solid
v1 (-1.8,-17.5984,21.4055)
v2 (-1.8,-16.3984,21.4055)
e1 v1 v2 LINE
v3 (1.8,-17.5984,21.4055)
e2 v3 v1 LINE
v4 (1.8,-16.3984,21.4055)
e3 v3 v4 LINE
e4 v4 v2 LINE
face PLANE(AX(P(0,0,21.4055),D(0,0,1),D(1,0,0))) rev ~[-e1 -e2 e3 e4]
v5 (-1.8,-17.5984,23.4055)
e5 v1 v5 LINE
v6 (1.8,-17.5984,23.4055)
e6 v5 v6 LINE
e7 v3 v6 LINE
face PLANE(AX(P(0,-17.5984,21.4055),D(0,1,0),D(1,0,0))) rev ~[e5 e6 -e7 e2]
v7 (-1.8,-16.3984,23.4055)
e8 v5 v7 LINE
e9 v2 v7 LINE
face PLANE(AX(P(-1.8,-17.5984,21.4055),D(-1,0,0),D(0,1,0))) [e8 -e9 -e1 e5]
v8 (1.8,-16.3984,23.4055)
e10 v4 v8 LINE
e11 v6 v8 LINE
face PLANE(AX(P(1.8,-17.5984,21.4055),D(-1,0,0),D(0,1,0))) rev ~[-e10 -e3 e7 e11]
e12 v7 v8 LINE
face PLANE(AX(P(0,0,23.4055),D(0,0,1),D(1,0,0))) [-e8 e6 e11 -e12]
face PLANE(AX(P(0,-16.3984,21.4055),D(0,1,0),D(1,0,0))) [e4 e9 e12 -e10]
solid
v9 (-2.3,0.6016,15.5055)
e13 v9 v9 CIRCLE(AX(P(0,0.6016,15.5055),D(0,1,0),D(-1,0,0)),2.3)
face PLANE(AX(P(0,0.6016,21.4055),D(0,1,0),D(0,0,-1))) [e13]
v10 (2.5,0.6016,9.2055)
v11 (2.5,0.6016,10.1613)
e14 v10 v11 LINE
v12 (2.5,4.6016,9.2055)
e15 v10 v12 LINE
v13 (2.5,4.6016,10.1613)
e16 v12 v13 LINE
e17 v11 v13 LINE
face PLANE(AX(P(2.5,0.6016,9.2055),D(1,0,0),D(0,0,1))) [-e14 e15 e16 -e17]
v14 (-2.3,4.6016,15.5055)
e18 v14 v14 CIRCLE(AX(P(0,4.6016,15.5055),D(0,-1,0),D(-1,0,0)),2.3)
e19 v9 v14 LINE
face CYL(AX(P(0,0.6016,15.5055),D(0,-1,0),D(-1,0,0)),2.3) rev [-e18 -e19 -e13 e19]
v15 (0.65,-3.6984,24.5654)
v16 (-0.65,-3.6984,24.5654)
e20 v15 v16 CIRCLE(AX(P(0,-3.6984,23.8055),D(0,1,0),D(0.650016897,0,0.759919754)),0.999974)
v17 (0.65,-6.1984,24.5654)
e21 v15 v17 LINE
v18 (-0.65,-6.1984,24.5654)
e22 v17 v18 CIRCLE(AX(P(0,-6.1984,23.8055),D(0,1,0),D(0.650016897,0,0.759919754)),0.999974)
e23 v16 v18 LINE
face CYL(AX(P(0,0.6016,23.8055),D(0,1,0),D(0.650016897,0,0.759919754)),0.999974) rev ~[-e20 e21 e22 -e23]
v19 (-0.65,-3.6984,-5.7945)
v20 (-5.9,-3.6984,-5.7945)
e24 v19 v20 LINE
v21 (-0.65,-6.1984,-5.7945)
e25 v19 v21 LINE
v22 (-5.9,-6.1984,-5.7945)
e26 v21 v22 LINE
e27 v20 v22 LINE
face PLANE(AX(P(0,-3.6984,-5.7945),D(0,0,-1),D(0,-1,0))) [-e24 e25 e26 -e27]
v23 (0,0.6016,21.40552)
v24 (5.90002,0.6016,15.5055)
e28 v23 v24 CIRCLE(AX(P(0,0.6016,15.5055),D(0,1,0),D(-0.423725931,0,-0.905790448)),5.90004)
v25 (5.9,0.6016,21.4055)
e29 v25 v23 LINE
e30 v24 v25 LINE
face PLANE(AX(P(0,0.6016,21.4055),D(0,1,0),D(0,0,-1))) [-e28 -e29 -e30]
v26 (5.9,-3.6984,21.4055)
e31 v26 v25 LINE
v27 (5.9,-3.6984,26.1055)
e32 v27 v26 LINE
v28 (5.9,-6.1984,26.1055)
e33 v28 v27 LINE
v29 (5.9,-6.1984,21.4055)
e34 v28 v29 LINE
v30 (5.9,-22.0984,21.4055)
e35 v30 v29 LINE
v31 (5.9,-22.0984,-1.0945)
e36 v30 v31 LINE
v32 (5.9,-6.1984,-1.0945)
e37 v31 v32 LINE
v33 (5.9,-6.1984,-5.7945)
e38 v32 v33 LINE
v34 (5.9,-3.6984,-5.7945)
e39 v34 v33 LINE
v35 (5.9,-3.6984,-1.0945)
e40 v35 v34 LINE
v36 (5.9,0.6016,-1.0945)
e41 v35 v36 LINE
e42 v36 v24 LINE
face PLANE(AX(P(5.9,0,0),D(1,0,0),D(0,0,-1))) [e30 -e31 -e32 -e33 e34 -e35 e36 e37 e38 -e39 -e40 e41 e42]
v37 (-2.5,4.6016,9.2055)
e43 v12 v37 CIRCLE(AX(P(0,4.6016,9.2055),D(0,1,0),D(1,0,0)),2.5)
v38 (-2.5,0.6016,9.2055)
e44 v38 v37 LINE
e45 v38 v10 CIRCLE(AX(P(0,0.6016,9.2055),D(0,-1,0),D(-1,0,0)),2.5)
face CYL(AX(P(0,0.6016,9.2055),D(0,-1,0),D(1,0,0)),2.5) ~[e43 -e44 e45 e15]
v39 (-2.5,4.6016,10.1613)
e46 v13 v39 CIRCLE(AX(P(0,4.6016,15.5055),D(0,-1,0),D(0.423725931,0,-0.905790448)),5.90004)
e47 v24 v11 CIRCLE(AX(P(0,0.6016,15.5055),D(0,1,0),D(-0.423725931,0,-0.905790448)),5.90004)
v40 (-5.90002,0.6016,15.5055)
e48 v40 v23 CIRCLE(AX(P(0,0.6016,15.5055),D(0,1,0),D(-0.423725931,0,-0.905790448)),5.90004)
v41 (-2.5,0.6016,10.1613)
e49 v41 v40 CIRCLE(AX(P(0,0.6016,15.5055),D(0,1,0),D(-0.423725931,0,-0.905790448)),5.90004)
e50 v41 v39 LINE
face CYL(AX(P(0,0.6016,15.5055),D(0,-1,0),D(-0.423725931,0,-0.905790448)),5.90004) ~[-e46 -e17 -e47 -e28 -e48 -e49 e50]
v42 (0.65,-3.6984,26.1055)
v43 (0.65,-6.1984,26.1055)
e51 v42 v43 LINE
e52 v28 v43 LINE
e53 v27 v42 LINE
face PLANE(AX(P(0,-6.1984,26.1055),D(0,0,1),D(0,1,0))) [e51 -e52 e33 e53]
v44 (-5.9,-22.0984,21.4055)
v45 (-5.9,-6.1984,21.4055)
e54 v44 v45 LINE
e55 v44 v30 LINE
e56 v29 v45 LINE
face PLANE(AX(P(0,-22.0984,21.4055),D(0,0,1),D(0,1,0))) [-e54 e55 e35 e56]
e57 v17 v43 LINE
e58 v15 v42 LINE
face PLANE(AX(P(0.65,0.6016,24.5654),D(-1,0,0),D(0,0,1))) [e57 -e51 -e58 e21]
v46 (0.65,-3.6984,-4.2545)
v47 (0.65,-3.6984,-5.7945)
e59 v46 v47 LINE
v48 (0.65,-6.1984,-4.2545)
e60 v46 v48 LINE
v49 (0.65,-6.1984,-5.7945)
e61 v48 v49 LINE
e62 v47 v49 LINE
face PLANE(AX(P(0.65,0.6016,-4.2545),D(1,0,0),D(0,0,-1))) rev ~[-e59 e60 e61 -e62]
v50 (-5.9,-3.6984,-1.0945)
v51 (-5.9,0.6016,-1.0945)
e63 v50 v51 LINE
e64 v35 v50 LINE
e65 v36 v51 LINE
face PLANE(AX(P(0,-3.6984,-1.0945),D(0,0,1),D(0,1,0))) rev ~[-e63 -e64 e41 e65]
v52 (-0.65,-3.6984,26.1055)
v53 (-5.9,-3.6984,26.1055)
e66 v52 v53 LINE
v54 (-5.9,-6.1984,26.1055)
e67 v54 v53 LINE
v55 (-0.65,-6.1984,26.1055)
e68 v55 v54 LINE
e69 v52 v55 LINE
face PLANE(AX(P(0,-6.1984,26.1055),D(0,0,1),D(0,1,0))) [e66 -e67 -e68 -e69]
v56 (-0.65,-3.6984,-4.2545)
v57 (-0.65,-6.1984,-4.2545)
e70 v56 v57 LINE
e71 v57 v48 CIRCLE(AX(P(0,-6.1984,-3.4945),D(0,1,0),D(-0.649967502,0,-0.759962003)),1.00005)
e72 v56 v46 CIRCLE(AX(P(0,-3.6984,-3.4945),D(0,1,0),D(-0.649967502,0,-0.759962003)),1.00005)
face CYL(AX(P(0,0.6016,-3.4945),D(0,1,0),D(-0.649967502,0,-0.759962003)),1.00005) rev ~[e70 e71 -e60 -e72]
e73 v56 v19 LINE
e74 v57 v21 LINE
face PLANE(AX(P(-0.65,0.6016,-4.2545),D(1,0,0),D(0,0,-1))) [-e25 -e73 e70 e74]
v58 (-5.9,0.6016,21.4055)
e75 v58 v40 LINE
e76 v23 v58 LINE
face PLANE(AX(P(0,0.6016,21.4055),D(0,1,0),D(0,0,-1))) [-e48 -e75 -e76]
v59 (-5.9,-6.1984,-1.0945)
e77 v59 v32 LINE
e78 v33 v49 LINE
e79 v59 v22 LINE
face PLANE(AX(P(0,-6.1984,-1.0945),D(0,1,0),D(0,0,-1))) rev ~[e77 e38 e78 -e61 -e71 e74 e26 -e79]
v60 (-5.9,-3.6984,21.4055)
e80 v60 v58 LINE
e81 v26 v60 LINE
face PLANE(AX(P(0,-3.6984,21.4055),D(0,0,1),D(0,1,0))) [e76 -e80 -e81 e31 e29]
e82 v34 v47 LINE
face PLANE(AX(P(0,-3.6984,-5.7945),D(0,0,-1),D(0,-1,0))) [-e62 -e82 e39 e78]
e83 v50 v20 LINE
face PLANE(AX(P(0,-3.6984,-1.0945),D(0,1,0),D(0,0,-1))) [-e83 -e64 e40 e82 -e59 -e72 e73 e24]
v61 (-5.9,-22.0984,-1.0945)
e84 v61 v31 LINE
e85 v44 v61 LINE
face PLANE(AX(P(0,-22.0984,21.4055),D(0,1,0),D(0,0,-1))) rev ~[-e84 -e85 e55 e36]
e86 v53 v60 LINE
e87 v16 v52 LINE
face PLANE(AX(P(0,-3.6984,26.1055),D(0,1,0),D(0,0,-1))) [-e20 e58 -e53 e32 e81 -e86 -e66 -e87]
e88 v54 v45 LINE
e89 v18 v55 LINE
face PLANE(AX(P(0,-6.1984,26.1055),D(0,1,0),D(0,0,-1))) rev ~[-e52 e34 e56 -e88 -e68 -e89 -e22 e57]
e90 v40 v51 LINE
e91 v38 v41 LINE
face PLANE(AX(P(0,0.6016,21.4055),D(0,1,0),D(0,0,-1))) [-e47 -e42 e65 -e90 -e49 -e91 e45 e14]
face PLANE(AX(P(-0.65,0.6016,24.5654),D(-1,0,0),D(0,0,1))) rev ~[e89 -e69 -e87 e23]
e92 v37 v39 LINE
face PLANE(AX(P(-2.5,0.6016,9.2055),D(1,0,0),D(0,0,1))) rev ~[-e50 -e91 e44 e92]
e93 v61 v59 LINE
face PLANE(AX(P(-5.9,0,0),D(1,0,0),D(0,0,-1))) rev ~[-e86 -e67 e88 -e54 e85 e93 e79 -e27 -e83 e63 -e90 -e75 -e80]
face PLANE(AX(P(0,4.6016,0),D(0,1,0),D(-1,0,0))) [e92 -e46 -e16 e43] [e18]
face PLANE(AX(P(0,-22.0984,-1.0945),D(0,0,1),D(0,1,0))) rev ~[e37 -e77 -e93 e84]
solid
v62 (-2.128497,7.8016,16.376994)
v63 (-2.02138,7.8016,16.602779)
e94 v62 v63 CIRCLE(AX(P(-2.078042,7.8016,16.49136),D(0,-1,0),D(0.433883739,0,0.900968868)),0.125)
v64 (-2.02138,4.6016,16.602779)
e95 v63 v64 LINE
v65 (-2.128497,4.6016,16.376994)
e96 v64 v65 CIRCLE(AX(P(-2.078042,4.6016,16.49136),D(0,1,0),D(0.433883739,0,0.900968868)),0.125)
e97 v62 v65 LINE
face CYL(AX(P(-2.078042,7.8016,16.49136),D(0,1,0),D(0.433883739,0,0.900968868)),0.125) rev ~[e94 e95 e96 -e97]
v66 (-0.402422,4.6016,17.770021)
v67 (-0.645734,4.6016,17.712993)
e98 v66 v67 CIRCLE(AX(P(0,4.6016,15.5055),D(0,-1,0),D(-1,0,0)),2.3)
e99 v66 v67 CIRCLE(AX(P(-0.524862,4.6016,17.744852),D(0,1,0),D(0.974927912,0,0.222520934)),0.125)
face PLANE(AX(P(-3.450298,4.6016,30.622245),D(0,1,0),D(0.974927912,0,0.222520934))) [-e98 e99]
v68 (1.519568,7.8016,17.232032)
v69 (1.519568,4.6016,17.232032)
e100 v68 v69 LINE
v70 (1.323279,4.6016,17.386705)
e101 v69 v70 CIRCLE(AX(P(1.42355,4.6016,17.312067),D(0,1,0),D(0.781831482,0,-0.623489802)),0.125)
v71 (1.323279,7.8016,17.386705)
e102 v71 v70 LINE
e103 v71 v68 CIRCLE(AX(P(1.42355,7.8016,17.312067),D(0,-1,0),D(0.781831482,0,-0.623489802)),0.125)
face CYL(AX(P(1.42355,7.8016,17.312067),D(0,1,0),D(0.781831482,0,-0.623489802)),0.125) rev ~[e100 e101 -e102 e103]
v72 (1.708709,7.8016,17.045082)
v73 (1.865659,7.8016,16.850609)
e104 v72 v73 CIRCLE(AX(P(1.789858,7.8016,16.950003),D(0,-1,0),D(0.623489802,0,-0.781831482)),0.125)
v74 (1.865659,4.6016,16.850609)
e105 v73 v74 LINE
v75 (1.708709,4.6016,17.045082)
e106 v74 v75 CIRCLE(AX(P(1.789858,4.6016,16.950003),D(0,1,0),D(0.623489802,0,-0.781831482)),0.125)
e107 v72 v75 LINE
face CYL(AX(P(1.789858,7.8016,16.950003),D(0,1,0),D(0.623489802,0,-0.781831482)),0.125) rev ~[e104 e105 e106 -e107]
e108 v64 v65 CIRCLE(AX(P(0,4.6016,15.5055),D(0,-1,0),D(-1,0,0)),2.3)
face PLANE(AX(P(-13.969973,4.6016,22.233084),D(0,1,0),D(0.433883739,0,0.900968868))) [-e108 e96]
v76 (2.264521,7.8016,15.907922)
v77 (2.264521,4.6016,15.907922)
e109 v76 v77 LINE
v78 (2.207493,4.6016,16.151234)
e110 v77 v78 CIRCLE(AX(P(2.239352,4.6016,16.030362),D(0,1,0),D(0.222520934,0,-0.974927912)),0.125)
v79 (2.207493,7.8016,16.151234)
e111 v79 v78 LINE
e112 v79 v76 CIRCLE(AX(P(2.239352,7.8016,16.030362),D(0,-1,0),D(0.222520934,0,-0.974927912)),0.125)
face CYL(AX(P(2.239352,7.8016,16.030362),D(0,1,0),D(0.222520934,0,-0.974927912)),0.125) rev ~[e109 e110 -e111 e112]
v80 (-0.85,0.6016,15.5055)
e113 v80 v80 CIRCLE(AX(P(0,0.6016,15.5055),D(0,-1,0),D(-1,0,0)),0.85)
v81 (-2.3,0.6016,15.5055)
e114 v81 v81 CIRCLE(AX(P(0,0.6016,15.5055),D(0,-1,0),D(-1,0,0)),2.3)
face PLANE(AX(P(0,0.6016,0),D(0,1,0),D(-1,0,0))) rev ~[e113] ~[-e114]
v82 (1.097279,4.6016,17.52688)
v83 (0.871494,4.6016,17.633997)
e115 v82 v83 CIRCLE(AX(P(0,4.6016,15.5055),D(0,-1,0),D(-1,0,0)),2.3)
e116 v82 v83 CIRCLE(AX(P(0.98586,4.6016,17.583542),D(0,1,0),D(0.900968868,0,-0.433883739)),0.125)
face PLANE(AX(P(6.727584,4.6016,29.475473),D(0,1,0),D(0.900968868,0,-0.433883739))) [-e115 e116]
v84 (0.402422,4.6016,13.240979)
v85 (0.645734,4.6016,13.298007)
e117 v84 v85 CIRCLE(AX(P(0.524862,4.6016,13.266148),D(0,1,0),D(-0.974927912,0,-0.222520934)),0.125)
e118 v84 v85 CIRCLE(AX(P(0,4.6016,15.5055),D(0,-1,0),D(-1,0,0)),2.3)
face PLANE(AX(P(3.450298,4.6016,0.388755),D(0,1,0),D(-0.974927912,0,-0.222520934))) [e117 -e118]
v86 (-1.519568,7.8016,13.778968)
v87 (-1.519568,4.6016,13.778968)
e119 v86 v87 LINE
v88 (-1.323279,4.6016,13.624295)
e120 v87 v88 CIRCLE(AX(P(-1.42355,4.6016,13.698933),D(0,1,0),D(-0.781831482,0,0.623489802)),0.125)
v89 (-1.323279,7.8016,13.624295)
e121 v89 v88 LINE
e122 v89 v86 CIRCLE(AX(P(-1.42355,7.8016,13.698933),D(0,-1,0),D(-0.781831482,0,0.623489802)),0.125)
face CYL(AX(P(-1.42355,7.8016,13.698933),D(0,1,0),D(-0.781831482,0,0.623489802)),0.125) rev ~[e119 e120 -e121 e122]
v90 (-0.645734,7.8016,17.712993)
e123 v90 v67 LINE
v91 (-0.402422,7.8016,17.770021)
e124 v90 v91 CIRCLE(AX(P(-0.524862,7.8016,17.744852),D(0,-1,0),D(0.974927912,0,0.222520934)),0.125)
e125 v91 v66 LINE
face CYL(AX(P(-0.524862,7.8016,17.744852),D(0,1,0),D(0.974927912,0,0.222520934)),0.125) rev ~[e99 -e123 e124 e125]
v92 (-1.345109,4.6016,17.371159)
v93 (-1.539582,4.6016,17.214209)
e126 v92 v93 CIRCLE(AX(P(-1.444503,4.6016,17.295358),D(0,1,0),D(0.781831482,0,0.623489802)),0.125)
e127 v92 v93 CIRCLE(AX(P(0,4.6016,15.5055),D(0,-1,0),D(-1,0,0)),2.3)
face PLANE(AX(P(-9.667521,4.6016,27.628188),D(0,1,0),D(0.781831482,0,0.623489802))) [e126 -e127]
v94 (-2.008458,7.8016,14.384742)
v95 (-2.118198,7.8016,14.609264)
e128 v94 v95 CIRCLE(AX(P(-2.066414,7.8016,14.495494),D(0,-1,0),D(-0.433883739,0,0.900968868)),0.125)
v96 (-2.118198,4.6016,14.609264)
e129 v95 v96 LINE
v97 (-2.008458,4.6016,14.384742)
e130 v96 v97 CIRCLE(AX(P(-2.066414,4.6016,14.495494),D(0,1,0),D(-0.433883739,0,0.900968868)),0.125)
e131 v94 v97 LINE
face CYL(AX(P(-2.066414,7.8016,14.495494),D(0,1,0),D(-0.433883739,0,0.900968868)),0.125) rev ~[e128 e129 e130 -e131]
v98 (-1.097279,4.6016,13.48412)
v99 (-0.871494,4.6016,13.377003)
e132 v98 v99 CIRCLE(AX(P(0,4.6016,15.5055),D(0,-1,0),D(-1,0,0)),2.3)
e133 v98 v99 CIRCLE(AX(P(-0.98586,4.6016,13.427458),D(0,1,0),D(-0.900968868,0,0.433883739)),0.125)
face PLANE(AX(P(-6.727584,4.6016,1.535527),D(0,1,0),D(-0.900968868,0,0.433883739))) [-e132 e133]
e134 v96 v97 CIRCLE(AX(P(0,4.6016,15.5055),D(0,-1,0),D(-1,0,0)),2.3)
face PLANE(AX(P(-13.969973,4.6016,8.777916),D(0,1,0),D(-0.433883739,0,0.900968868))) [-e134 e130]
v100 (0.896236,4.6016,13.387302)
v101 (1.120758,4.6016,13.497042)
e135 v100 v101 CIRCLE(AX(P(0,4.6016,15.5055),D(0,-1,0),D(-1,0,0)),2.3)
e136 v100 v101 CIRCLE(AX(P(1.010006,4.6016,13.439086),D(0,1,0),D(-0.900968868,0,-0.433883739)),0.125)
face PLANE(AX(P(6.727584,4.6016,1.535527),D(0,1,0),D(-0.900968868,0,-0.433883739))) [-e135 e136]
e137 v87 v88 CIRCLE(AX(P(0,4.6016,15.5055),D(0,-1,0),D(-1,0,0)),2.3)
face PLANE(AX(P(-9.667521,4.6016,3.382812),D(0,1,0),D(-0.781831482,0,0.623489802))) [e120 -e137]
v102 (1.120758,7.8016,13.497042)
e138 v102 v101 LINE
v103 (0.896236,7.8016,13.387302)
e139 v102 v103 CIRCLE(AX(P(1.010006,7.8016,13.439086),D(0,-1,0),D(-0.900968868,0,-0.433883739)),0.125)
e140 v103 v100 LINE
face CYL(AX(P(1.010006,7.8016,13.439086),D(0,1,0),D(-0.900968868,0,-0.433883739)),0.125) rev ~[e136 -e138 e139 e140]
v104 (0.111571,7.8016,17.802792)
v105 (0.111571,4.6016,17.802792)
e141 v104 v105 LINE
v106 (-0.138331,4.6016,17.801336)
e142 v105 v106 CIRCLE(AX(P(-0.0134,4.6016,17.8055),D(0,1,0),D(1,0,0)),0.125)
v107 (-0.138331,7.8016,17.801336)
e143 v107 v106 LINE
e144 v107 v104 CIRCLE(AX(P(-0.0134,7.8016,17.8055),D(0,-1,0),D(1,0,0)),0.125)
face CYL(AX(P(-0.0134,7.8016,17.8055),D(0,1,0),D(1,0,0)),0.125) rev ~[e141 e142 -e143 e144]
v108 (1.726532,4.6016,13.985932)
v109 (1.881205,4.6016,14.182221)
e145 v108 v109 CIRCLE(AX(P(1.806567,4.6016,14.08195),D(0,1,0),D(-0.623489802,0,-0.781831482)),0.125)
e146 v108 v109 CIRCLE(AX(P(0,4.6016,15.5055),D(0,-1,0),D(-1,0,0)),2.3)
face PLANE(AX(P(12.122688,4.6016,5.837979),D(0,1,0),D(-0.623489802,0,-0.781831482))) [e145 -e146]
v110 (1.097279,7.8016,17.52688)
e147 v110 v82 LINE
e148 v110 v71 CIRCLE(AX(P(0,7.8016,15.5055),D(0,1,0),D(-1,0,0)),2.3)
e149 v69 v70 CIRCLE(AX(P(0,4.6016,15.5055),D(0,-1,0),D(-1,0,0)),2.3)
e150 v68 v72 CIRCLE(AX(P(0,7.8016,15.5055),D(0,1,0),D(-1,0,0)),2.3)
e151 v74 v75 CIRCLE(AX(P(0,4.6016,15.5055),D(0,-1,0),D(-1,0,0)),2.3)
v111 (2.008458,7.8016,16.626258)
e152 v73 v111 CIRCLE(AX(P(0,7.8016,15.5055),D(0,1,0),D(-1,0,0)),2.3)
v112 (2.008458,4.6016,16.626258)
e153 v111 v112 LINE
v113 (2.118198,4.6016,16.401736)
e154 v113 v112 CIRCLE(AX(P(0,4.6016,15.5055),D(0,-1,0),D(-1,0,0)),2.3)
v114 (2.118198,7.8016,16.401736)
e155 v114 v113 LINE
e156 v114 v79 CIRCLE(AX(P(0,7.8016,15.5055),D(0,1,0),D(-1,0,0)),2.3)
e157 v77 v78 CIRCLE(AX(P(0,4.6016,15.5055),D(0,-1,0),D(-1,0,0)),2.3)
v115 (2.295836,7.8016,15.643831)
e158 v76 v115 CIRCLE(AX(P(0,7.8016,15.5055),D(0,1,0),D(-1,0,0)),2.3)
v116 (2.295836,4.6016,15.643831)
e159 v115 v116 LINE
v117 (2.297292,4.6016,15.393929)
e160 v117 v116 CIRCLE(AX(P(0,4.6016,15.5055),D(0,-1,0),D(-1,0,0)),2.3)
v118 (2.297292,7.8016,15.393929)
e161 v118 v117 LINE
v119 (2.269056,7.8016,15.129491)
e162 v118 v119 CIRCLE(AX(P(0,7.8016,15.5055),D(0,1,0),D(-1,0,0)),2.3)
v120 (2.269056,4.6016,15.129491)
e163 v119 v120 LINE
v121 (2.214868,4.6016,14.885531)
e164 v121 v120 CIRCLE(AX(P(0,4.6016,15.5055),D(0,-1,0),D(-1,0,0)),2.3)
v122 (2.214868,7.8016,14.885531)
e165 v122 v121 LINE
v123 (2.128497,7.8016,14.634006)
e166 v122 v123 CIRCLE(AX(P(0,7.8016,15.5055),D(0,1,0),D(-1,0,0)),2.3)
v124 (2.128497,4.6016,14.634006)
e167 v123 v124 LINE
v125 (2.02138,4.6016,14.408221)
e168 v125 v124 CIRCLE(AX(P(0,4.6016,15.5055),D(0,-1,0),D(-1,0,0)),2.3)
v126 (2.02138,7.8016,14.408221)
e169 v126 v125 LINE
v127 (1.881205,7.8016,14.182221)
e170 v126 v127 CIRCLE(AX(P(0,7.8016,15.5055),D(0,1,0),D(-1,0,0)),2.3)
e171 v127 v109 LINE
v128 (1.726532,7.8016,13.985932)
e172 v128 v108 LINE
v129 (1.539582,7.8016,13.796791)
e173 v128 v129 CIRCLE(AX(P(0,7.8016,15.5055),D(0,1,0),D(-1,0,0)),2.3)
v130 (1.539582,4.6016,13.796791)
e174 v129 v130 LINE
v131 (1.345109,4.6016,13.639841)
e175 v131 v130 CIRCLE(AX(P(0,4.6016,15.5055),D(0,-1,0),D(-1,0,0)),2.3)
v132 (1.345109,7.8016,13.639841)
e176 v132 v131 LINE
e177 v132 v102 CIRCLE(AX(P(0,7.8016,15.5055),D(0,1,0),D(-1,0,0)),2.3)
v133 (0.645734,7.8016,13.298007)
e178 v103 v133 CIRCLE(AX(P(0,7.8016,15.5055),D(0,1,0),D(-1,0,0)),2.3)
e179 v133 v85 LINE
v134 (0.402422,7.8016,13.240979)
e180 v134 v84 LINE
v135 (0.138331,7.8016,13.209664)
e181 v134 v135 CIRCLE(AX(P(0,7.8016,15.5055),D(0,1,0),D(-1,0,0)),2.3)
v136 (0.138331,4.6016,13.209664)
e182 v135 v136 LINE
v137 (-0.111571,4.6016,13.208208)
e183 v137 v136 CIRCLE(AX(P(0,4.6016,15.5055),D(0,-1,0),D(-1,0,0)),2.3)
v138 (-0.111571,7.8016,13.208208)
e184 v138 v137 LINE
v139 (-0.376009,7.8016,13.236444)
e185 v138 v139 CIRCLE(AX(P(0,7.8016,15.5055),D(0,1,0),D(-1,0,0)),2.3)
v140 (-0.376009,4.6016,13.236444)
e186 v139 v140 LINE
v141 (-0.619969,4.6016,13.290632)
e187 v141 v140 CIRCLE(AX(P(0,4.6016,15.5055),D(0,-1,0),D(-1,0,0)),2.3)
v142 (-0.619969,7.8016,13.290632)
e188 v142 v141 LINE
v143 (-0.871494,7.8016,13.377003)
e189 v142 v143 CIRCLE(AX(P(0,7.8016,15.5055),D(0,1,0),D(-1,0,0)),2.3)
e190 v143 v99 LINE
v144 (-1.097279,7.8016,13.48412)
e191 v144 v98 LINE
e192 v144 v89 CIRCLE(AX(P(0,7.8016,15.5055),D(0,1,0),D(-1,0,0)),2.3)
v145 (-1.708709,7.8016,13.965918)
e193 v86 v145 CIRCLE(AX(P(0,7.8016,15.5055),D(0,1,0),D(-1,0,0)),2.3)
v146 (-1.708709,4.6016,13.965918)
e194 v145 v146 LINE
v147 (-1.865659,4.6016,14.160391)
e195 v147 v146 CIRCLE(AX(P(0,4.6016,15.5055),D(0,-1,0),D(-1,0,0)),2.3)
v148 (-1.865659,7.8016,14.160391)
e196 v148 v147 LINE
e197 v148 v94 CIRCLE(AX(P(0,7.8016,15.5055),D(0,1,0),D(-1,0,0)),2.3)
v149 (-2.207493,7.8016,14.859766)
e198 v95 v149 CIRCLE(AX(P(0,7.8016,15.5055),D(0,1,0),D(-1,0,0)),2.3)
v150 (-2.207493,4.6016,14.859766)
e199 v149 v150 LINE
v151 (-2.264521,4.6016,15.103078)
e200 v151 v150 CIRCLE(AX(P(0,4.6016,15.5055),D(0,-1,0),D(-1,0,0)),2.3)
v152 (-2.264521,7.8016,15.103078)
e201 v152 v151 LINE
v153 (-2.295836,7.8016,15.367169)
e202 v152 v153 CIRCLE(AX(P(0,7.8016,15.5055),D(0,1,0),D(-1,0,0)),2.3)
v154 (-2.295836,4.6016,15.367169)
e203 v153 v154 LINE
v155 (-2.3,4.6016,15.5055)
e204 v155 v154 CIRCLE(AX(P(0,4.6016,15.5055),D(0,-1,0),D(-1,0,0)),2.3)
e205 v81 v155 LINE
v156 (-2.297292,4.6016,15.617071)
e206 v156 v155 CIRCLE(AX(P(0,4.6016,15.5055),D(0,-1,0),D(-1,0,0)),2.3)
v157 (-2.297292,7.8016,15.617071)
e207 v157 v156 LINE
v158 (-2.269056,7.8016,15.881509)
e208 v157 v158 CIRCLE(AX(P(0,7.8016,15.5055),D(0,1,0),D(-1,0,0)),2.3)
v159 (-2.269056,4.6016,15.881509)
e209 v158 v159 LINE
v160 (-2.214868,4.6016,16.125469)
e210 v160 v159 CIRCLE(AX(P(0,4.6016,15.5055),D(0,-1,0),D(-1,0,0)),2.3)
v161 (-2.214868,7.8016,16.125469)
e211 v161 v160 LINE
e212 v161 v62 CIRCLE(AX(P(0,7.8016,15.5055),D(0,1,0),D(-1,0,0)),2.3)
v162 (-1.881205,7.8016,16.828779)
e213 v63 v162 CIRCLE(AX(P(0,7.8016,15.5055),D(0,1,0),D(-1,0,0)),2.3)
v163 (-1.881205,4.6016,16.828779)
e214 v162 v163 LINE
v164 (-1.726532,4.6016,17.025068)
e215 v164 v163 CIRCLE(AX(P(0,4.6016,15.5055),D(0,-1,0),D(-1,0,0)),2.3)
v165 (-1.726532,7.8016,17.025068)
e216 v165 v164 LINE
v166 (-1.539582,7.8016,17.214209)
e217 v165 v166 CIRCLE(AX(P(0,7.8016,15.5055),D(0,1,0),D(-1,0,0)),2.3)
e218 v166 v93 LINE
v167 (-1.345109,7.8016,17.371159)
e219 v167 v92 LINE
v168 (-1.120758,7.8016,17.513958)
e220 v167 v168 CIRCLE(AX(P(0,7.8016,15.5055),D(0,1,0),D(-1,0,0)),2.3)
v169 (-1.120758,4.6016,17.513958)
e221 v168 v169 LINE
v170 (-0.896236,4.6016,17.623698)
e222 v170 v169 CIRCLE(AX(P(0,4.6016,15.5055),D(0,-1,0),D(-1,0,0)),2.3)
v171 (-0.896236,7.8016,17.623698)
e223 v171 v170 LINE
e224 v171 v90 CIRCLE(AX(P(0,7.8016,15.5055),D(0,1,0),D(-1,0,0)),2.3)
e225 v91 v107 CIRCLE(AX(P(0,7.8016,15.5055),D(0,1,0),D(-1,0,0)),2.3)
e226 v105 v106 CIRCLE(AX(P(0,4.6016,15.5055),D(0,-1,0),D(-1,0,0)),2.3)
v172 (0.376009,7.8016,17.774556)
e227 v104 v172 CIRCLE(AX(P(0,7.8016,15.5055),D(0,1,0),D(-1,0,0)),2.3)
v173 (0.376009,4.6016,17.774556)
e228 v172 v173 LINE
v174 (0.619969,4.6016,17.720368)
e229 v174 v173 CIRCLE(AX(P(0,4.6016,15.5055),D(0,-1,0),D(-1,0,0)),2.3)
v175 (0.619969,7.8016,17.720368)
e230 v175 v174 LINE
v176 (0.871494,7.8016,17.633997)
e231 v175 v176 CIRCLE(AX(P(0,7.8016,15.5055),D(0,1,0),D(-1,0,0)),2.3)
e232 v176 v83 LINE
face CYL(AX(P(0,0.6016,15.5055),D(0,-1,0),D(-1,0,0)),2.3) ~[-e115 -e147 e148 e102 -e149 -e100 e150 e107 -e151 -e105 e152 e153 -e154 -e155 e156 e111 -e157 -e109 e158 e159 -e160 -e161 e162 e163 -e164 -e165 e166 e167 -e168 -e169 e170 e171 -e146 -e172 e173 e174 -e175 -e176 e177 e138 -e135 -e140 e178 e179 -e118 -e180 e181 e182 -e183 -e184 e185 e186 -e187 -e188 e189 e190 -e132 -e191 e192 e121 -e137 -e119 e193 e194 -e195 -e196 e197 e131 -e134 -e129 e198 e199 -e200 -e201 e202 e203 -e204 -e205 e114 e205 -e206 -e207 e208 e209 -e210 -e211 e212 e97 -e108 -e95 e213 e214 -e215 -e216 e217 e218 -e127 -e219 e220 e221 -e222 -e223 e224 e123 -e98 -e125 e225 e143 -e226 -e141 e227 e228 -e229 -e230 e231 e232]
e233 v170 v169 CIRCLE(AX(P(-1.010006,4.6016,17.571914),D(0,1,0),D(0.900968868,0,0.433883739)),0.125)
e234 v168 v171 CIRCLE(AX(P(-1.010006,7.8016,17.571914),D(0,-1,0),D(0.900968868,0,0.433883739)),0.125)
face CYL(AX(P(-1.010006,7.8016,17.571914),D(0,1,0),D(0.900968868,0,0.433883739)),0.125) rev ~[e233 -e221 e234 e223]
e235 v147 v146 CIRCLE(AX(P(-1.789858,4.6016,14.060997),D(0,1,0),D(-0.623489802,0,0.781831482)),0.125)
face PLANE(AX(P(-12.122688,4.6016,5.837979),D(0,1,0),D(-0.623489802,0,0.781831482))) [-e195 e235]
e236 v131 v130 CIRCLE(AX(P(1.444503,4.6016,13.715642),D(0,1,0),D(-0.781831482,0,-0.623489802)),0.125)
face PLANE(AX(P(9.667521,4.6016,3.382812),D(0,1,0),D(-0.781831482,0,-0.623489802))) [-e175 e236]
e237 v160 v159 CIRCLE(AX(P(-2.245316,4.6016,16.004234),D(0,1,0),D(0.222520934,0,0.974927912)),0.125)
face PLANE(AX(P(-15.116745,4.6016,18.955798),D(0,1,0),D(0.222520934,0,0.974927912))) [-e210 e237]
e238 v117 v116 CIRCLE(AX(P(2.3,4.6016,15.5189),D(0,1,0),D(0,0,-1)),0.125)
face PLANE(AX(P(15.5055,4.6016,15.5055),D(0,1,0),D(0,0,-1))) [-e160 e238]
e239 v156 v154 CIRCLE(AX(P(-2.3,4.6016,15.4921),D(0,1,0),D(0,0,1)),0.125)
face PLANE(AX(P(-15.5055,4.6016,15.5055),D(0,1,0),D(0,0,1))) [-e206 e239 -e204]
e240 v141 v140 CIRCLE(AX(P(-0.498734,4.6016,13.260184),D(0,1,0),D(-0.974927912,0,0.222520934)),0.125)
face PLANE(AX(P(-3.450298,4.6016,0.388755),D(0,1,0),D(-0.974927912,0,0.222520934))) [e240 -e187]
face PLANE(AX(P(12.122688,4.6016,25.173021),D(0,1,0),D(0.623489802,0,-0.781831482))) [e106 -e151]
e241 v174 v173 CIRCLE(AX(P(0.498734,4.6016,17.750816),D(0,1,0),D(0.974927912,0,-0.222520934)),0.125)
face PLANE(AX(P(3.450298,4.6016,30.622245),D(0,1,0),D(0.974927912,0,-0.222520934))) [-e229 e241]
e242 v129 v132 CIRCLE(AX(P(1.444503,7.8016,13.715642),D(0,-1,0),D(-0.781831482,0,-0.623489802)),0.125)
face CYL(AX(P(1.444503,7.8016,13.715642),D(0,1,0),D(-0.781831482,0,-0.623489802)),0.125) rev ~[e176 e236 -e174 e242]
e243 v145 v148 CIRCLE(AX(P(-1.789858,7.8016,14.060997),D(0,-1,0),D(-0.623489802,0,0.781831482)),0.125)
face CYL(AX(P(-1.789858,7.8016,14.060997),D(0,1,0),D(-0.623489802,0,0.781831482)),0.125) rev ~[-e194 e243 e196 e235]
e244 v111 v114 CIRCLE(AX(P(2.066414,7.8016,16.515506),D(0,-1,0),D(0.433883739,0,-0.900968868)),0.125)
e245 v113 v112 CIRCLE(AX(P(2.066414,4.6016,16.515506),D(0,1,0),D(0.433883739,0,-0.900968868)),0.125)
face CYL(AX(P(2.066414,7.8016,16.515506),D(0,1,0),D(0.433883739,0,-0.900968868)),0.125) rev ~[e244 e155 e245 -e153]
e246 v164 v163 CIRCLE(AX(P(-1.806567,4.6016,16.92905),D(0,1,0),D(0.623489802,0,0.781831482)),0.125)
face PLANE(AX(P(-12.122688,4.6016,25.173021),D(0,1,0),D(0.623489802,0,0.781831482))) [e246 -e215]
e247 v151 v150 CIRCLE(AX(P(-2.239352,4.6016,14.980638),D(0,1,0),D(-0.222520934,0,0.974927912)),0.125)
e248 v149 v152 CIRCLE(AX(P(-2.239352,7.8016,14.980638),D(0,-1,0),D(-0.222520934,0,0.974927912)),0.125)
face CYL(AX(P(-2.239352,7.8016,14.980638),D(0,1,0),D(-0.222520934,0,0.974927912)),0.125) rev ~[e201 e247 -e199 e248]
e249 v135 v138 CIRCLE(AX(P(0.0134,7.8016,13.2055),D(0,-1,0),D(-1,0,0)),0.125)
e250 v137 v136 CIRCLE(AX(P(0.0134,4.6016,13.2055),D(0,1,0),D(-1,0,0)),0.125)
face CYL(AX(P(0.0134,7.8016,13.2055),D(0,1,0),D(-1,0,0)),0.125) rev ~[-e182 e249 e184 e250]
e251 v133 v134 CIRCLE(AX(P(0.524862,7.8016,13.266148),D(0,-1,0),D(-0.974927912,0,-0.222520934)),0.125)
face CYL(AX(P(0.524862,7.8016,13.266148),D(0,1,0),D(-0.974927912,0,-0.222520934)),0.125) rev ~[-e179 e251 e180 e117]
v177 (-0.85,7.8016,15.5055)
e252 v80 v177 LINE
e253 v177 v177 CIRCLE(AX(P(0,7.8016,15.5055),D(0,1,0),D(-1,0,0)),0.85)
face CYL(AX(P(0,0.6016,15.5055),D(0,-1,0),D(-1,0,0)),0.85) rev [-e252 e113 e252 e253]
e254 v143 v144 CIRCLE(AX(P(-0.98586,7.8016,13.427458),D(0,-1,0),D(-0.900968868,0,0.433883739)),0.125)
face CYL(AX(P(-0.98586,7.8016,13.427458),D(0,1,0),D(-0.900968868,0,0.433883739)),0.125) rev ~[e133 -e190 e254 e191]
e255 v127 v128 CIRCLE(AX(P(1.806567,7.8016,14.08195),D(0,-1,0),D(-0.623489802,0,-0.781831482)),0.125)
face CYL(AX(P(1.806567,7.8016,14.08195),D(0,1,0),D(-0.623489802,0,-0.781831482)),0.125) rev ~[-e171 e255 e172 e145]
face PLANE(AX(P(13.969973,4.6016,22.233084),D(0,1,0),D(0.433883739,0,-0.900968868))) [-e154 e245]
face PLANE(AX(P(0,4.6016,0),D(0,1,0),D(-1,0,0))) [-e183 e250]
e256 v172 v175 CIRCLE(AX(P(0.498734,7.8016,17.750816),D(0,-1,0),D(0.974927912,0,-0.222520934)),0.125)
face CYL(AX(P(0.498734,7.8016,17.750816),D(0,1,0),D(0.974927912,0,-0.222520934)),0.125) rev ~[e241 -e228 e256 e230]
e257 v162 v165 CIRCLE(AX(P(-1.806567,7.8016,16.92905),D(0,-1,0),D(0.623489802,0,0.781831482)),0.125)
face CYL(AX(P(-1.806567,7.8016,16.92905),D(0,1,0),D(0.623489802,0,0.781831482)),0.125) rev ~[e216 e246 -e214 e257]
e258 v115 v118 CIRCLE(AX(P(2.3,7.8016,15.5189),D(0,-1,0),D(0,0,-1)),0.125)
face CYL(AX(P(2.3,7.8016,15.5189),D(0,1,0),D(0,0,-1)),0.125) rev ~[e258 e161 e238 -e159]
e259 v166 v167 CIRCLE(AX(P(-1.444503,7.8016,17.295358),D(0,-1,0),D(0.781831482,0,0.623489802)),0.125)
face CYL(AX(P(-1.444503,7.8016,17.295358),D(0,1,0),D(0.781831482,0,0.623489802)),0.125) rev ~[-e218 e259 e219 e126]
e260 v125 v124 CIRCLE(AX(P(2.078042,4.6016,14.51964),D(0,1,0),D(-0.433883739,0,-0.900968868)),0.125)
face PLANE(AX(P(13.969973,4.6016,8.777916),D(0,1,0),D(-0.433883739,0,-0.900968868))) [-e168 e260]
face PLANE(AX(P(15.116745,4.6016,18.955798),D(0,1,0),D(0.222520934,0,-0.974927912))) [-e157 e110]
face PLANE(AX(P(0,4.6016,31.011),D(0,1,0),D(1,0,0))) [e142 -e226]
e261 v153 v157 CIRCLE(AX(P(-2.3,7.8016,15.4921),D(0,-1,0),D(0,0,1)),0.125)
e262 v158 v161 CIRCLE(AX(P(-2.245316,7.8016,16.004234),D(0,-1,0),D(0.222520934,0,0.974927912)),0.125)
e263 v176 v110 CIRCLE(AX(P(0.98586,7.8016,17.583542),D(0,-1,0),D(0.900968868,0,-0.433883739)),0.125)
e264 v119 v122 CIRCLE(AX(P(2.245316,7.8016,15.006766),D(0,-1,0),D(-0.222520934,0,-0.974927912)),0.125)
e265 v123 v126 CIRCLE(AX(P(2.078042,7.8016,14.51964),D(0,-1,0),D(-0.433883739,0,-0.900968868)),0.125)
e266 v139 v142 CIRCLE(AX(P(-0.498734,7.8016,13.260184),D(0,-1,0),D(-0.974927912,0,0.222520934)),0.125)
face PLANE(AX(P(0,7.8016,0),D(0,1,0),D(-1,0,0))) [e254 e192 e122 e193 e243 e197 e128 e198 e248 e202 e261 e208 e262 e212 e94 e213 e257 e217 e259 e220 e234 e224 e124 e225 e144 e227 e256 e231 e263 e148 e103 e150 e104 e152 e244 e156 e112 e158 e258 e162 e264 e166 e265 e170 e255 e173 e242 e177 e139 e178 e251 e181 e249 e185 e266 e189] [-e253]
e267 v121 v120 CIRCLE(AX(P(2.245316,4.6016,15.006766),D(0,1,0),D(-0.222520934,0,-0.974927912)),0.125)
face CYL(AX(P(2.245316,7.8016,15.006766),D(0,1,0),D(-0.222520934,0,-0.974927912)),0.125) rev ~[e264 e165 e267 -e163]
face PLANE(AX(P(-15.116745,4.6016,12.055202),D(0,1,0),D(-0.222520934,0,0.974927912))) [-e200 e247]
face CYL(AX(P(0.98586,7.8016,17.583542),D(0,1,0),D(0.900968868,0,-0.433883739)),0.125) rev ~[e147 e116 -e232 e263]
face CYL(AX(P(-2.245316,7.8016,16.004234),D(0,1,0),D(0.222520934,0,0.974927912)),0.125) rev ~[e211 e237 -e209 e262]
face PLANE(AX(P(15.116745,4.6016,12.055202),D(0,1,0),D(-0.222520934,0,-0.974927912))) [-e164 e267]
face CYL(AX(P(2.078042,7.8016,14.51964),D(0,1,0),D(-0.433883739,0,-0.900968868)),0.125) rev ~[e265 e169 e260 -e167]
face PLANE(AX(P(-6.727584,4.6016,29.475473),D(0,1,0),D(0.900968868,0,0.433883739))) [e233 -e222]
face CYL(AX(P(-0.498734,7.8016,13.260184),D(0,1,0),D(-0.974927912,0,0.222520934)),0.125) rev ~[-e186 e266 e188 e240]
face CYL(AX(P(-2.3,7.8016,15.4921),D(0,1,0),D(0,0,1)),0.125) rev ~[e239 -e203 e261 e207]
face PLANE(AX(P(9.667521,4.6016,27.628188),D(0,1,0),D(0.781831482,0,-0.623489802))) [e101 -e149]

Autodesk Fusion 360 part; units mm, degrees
sketch "Left" plane through (0, 0, 0) normal (1, 0, 0) x (0, 0, -1)
  line L0 (-21.4055, -22.0984) -> (1.0945, -22.0984)
  line L1 (-21.4055, 4.6016) -> (1.0945, 4.6016)
  line L2 (-21.4055, 0.6016) -> (1.0945, 0.6016)
  line L3 (-21.4055, 0.6016) -> (-21.4055, 4.6016)
  line L4 (5.7945, -22.0984) -> (5.7945, -6.1984)
  line L5 (-26.1055, -6.1984) -> (-26.1055, -3.6984)
  line L6 (-26.1055, -3.6984) -> (-21.4055, -3.6984)
  line L7 (1.0945, -3.6984) -> (5.7945, -3.6984)
  line L8 (-26.1055, -6.1984) -> (-21.4055, -6.1984)
  line L9 (1.0945, -6.1984) -> (5.7945, -6.1984)
  line L10 (1.0945, -22.0984) -> (1.0945, -6.1984)
  line L11 (1.0945, -3.6984) -> (1.0945, 0.6016)
  line L12 (-21.4055, -22.0984) -> (-21.4055, -6.1984)
  line L13 (-21.4055, -3.6984) -> (-21.4055, 0.6016)
  line L14 (-15.5055, 0.6016) -> (-15.5055, 13)
  line L15 (-6.7055, 0.6016) -> (-6.7055, 13)
  line L16 (1.0945, -22.0984) -> (1.0945, -6.1984)
  line L17 (1.0945, -3.6984) -> (1.0945, 13)
  line L18 (5.7945, -3.6984) -> (5.7945, -6.1984)
  dimension "d1" = 22.5
  dimension "d2" = 26.7
  dimension "d3" = 22.7
  dimension "d4" = 4
  dimension "d5" = 22.7
  dimension "d13" = 5.9
extrude "Extrude1" add sketch "Left" along normal mid plane 11.8 contours L0 L2 L5 L6 L7 L8 L9 L10 L11 L12 L13 L16 L17 L18 makes body 1
sketch "TOP" plane through (0, 0.6016, 0) normal (0, 1, 0) x (-1, 0, 0)
  line L0 (5.9, 21.4055) -> (-5.9, 21.4055)
  line L1 (-5.9, 21.4055) -> (-5.9, -1.0945)
  line L2 (-5.9, -1.0945) -> (5.9, -1.0945)
  line L3 (5.9, -1.0945) -> (5.9, 21.4055)
  circle A0 centre (0, 15.5055) radius 2.3
  circle A1 centre (0, 15.5055) radius 0.85
  line L4 (0, -1.0945) -> (0, 27)
  line L5 (0, 27) -> (0, -1.0945)
  arc A2 (-2.5, 9.2055) -> (2.5, 9.2055) centre (0, 9.2055) ccw
  line L6 (-2.5, 9.2055) -> (-2.5, 10.1613)
  line L7 (2.5, 9.2055) -> (2.5, 10.1613)
  arc A3 (2.5, 10.1613) -> (-2.5, 10.1613) centre (0, 15.5055) ccw
  line L8 (5.9, -5.7945) -> (-5.9, -5.7945)
  line L9 (-0.65, -4.2545) -> (-0.65, -5.7945)
  line L10 (0.65, -4.2545) -> (0.65, -5.7945)
  arc A4 (0.65, -4.2545) -> (-0.65, -4.2545) centre (0, -3.4945) ccw
  line L11 (5.9, 26.1055) -> (-5.9, 26.1055)
  arc A5 (-0.65, 24.5654) -> (0.65, 24.5654) centre (0, 23.8055) ccw
  line L12 (0.65, 24.5654) -> (0.65, 26.1055)
  line L13 (-0.65, 24.5654) -> (-0.65, 26.1055)
  point P0 (0, 15.5055)
  point P1 (0, 6.7055)
  point P2 (0, -1.0945)
  point P3 (5.9, -5.7945)
  point P4 (-5.9, -5.7945)
  point P5 (0, -5.7945)
  point P6 (5.9, 26.1055)
  point P7 (-5.9, 26.1055)
  point P8 (0, 26.1055)
  point P9 (0, 21.4055)
  dimension "d16" = 4.6
  dimension "d17" = 1.7
  dimension "d18" = 11.8
  dimension "d27" = 2
  dimension "d31" = 2
extrude "Extrude2" add sketch "TOP" along normal blind 4 contours A0 L4 L5 A2 L7 A3 | A0 L4 L5 A2 L6 A3 bodies 1
extrude "Extrude3" add sketch "TOP" along normal blind 7.2 separate body contours A0 A1 L4 L5 | A0 A1 L4 L5 makes body 2
extrude "Extrude4" cut sketch "TOP" against normal through all contours L4 L5 L11 A5 L13 | L4 L5 L11 A5 L12 bodies 1
extrude "Extrude5" cut sketch "TOP" against normal through all contours L8 L9 L10 A4 bodies 1
sketch "Front" plane through (0, 0, 21.4055) normal (0, 0, 1) x (1, 0, 0)
  line L0 (-5.9, -22.0984) -> (5.9, -22.0984)
  line L1 (5.9, -22.0984) -> (5.9, -6.1984)
  line L2 (5.9, -6.1984) -> (-5.9, -6.1984)
  line L3 (-5.9, -6.1984) -> (-5.9, -22.0984)
  line L4 (-1.8, -17.5984) -> (1.8, -17.5984)
  line L5 (0, -22.0984) -> (0, -6.1984)
  line L6 (1.8, -17.5984) -> (1.8, -16.3984)
  line L7 (-1.8, -17.5984) -> (-1.8, -16.3984)
  line L8 (-1.8, -16.3984) -> (1.8, -16.3984)
extrude "Extrude6" add sketch "Front" along normal blind 2 separate body contours L4 L5 L6 L8 | L4 L5 L7 L8 makes body 3
copy_body "Body->Comp1" bodies 3 removing the originals makes body 4 in component "Prikljiček"
copy_body "Body->Comp2" bodies 2 removing the originals makes body 5 in component "OSovina"
copy_body "Body->Comp3" bodies 1 removing the originals makes body 6 in component "Ohisje"
sketch "Sketch1" plane through (0, 7.8016, 0) normal (0, 1, 0) x (-1, 0, 0) in component "OSovina"
  circle A0 centre (0, 15.5055) radius 0.85
  circle A1 centre (0, 15.5055) radius 2.3
  circle A2 centre (0, 15.5055) radius 2.3
  circle A3 centre (-0.0134, 13.2055) radius 0.125
  dimension "d42" = 0.25
extrude "Extrude1'" cut sketch "Sketch1" against normal up to surface (3.2 mm away) contours A1 A2 A3 | A1 A2 A3 picked at (-0.0101, 13.2473) picked at (-0.0141, 13.1641) bodies 5 in component "OSovina"
pattern_circular "C-Pattern1" count 28 over 360 about axis through (0, 15.4797, 15.5055) along (0, -1, 0) of "Extrude1'" in component "OSovina"
component "Prikljiček" placed x (1, 0, 0) y (0, 1, 0) z (0, 0, 1) at (0, 0, 0)
component "OSovina" placed x (1, 0, 0) y (0, 1, 0) z (0, 0, 1) at (0, 0, 0)
component "Ohisje" placed x (1, 0, 0) y (0, 1, 0) z (0, 0, 1) at (0, 0, 0)
